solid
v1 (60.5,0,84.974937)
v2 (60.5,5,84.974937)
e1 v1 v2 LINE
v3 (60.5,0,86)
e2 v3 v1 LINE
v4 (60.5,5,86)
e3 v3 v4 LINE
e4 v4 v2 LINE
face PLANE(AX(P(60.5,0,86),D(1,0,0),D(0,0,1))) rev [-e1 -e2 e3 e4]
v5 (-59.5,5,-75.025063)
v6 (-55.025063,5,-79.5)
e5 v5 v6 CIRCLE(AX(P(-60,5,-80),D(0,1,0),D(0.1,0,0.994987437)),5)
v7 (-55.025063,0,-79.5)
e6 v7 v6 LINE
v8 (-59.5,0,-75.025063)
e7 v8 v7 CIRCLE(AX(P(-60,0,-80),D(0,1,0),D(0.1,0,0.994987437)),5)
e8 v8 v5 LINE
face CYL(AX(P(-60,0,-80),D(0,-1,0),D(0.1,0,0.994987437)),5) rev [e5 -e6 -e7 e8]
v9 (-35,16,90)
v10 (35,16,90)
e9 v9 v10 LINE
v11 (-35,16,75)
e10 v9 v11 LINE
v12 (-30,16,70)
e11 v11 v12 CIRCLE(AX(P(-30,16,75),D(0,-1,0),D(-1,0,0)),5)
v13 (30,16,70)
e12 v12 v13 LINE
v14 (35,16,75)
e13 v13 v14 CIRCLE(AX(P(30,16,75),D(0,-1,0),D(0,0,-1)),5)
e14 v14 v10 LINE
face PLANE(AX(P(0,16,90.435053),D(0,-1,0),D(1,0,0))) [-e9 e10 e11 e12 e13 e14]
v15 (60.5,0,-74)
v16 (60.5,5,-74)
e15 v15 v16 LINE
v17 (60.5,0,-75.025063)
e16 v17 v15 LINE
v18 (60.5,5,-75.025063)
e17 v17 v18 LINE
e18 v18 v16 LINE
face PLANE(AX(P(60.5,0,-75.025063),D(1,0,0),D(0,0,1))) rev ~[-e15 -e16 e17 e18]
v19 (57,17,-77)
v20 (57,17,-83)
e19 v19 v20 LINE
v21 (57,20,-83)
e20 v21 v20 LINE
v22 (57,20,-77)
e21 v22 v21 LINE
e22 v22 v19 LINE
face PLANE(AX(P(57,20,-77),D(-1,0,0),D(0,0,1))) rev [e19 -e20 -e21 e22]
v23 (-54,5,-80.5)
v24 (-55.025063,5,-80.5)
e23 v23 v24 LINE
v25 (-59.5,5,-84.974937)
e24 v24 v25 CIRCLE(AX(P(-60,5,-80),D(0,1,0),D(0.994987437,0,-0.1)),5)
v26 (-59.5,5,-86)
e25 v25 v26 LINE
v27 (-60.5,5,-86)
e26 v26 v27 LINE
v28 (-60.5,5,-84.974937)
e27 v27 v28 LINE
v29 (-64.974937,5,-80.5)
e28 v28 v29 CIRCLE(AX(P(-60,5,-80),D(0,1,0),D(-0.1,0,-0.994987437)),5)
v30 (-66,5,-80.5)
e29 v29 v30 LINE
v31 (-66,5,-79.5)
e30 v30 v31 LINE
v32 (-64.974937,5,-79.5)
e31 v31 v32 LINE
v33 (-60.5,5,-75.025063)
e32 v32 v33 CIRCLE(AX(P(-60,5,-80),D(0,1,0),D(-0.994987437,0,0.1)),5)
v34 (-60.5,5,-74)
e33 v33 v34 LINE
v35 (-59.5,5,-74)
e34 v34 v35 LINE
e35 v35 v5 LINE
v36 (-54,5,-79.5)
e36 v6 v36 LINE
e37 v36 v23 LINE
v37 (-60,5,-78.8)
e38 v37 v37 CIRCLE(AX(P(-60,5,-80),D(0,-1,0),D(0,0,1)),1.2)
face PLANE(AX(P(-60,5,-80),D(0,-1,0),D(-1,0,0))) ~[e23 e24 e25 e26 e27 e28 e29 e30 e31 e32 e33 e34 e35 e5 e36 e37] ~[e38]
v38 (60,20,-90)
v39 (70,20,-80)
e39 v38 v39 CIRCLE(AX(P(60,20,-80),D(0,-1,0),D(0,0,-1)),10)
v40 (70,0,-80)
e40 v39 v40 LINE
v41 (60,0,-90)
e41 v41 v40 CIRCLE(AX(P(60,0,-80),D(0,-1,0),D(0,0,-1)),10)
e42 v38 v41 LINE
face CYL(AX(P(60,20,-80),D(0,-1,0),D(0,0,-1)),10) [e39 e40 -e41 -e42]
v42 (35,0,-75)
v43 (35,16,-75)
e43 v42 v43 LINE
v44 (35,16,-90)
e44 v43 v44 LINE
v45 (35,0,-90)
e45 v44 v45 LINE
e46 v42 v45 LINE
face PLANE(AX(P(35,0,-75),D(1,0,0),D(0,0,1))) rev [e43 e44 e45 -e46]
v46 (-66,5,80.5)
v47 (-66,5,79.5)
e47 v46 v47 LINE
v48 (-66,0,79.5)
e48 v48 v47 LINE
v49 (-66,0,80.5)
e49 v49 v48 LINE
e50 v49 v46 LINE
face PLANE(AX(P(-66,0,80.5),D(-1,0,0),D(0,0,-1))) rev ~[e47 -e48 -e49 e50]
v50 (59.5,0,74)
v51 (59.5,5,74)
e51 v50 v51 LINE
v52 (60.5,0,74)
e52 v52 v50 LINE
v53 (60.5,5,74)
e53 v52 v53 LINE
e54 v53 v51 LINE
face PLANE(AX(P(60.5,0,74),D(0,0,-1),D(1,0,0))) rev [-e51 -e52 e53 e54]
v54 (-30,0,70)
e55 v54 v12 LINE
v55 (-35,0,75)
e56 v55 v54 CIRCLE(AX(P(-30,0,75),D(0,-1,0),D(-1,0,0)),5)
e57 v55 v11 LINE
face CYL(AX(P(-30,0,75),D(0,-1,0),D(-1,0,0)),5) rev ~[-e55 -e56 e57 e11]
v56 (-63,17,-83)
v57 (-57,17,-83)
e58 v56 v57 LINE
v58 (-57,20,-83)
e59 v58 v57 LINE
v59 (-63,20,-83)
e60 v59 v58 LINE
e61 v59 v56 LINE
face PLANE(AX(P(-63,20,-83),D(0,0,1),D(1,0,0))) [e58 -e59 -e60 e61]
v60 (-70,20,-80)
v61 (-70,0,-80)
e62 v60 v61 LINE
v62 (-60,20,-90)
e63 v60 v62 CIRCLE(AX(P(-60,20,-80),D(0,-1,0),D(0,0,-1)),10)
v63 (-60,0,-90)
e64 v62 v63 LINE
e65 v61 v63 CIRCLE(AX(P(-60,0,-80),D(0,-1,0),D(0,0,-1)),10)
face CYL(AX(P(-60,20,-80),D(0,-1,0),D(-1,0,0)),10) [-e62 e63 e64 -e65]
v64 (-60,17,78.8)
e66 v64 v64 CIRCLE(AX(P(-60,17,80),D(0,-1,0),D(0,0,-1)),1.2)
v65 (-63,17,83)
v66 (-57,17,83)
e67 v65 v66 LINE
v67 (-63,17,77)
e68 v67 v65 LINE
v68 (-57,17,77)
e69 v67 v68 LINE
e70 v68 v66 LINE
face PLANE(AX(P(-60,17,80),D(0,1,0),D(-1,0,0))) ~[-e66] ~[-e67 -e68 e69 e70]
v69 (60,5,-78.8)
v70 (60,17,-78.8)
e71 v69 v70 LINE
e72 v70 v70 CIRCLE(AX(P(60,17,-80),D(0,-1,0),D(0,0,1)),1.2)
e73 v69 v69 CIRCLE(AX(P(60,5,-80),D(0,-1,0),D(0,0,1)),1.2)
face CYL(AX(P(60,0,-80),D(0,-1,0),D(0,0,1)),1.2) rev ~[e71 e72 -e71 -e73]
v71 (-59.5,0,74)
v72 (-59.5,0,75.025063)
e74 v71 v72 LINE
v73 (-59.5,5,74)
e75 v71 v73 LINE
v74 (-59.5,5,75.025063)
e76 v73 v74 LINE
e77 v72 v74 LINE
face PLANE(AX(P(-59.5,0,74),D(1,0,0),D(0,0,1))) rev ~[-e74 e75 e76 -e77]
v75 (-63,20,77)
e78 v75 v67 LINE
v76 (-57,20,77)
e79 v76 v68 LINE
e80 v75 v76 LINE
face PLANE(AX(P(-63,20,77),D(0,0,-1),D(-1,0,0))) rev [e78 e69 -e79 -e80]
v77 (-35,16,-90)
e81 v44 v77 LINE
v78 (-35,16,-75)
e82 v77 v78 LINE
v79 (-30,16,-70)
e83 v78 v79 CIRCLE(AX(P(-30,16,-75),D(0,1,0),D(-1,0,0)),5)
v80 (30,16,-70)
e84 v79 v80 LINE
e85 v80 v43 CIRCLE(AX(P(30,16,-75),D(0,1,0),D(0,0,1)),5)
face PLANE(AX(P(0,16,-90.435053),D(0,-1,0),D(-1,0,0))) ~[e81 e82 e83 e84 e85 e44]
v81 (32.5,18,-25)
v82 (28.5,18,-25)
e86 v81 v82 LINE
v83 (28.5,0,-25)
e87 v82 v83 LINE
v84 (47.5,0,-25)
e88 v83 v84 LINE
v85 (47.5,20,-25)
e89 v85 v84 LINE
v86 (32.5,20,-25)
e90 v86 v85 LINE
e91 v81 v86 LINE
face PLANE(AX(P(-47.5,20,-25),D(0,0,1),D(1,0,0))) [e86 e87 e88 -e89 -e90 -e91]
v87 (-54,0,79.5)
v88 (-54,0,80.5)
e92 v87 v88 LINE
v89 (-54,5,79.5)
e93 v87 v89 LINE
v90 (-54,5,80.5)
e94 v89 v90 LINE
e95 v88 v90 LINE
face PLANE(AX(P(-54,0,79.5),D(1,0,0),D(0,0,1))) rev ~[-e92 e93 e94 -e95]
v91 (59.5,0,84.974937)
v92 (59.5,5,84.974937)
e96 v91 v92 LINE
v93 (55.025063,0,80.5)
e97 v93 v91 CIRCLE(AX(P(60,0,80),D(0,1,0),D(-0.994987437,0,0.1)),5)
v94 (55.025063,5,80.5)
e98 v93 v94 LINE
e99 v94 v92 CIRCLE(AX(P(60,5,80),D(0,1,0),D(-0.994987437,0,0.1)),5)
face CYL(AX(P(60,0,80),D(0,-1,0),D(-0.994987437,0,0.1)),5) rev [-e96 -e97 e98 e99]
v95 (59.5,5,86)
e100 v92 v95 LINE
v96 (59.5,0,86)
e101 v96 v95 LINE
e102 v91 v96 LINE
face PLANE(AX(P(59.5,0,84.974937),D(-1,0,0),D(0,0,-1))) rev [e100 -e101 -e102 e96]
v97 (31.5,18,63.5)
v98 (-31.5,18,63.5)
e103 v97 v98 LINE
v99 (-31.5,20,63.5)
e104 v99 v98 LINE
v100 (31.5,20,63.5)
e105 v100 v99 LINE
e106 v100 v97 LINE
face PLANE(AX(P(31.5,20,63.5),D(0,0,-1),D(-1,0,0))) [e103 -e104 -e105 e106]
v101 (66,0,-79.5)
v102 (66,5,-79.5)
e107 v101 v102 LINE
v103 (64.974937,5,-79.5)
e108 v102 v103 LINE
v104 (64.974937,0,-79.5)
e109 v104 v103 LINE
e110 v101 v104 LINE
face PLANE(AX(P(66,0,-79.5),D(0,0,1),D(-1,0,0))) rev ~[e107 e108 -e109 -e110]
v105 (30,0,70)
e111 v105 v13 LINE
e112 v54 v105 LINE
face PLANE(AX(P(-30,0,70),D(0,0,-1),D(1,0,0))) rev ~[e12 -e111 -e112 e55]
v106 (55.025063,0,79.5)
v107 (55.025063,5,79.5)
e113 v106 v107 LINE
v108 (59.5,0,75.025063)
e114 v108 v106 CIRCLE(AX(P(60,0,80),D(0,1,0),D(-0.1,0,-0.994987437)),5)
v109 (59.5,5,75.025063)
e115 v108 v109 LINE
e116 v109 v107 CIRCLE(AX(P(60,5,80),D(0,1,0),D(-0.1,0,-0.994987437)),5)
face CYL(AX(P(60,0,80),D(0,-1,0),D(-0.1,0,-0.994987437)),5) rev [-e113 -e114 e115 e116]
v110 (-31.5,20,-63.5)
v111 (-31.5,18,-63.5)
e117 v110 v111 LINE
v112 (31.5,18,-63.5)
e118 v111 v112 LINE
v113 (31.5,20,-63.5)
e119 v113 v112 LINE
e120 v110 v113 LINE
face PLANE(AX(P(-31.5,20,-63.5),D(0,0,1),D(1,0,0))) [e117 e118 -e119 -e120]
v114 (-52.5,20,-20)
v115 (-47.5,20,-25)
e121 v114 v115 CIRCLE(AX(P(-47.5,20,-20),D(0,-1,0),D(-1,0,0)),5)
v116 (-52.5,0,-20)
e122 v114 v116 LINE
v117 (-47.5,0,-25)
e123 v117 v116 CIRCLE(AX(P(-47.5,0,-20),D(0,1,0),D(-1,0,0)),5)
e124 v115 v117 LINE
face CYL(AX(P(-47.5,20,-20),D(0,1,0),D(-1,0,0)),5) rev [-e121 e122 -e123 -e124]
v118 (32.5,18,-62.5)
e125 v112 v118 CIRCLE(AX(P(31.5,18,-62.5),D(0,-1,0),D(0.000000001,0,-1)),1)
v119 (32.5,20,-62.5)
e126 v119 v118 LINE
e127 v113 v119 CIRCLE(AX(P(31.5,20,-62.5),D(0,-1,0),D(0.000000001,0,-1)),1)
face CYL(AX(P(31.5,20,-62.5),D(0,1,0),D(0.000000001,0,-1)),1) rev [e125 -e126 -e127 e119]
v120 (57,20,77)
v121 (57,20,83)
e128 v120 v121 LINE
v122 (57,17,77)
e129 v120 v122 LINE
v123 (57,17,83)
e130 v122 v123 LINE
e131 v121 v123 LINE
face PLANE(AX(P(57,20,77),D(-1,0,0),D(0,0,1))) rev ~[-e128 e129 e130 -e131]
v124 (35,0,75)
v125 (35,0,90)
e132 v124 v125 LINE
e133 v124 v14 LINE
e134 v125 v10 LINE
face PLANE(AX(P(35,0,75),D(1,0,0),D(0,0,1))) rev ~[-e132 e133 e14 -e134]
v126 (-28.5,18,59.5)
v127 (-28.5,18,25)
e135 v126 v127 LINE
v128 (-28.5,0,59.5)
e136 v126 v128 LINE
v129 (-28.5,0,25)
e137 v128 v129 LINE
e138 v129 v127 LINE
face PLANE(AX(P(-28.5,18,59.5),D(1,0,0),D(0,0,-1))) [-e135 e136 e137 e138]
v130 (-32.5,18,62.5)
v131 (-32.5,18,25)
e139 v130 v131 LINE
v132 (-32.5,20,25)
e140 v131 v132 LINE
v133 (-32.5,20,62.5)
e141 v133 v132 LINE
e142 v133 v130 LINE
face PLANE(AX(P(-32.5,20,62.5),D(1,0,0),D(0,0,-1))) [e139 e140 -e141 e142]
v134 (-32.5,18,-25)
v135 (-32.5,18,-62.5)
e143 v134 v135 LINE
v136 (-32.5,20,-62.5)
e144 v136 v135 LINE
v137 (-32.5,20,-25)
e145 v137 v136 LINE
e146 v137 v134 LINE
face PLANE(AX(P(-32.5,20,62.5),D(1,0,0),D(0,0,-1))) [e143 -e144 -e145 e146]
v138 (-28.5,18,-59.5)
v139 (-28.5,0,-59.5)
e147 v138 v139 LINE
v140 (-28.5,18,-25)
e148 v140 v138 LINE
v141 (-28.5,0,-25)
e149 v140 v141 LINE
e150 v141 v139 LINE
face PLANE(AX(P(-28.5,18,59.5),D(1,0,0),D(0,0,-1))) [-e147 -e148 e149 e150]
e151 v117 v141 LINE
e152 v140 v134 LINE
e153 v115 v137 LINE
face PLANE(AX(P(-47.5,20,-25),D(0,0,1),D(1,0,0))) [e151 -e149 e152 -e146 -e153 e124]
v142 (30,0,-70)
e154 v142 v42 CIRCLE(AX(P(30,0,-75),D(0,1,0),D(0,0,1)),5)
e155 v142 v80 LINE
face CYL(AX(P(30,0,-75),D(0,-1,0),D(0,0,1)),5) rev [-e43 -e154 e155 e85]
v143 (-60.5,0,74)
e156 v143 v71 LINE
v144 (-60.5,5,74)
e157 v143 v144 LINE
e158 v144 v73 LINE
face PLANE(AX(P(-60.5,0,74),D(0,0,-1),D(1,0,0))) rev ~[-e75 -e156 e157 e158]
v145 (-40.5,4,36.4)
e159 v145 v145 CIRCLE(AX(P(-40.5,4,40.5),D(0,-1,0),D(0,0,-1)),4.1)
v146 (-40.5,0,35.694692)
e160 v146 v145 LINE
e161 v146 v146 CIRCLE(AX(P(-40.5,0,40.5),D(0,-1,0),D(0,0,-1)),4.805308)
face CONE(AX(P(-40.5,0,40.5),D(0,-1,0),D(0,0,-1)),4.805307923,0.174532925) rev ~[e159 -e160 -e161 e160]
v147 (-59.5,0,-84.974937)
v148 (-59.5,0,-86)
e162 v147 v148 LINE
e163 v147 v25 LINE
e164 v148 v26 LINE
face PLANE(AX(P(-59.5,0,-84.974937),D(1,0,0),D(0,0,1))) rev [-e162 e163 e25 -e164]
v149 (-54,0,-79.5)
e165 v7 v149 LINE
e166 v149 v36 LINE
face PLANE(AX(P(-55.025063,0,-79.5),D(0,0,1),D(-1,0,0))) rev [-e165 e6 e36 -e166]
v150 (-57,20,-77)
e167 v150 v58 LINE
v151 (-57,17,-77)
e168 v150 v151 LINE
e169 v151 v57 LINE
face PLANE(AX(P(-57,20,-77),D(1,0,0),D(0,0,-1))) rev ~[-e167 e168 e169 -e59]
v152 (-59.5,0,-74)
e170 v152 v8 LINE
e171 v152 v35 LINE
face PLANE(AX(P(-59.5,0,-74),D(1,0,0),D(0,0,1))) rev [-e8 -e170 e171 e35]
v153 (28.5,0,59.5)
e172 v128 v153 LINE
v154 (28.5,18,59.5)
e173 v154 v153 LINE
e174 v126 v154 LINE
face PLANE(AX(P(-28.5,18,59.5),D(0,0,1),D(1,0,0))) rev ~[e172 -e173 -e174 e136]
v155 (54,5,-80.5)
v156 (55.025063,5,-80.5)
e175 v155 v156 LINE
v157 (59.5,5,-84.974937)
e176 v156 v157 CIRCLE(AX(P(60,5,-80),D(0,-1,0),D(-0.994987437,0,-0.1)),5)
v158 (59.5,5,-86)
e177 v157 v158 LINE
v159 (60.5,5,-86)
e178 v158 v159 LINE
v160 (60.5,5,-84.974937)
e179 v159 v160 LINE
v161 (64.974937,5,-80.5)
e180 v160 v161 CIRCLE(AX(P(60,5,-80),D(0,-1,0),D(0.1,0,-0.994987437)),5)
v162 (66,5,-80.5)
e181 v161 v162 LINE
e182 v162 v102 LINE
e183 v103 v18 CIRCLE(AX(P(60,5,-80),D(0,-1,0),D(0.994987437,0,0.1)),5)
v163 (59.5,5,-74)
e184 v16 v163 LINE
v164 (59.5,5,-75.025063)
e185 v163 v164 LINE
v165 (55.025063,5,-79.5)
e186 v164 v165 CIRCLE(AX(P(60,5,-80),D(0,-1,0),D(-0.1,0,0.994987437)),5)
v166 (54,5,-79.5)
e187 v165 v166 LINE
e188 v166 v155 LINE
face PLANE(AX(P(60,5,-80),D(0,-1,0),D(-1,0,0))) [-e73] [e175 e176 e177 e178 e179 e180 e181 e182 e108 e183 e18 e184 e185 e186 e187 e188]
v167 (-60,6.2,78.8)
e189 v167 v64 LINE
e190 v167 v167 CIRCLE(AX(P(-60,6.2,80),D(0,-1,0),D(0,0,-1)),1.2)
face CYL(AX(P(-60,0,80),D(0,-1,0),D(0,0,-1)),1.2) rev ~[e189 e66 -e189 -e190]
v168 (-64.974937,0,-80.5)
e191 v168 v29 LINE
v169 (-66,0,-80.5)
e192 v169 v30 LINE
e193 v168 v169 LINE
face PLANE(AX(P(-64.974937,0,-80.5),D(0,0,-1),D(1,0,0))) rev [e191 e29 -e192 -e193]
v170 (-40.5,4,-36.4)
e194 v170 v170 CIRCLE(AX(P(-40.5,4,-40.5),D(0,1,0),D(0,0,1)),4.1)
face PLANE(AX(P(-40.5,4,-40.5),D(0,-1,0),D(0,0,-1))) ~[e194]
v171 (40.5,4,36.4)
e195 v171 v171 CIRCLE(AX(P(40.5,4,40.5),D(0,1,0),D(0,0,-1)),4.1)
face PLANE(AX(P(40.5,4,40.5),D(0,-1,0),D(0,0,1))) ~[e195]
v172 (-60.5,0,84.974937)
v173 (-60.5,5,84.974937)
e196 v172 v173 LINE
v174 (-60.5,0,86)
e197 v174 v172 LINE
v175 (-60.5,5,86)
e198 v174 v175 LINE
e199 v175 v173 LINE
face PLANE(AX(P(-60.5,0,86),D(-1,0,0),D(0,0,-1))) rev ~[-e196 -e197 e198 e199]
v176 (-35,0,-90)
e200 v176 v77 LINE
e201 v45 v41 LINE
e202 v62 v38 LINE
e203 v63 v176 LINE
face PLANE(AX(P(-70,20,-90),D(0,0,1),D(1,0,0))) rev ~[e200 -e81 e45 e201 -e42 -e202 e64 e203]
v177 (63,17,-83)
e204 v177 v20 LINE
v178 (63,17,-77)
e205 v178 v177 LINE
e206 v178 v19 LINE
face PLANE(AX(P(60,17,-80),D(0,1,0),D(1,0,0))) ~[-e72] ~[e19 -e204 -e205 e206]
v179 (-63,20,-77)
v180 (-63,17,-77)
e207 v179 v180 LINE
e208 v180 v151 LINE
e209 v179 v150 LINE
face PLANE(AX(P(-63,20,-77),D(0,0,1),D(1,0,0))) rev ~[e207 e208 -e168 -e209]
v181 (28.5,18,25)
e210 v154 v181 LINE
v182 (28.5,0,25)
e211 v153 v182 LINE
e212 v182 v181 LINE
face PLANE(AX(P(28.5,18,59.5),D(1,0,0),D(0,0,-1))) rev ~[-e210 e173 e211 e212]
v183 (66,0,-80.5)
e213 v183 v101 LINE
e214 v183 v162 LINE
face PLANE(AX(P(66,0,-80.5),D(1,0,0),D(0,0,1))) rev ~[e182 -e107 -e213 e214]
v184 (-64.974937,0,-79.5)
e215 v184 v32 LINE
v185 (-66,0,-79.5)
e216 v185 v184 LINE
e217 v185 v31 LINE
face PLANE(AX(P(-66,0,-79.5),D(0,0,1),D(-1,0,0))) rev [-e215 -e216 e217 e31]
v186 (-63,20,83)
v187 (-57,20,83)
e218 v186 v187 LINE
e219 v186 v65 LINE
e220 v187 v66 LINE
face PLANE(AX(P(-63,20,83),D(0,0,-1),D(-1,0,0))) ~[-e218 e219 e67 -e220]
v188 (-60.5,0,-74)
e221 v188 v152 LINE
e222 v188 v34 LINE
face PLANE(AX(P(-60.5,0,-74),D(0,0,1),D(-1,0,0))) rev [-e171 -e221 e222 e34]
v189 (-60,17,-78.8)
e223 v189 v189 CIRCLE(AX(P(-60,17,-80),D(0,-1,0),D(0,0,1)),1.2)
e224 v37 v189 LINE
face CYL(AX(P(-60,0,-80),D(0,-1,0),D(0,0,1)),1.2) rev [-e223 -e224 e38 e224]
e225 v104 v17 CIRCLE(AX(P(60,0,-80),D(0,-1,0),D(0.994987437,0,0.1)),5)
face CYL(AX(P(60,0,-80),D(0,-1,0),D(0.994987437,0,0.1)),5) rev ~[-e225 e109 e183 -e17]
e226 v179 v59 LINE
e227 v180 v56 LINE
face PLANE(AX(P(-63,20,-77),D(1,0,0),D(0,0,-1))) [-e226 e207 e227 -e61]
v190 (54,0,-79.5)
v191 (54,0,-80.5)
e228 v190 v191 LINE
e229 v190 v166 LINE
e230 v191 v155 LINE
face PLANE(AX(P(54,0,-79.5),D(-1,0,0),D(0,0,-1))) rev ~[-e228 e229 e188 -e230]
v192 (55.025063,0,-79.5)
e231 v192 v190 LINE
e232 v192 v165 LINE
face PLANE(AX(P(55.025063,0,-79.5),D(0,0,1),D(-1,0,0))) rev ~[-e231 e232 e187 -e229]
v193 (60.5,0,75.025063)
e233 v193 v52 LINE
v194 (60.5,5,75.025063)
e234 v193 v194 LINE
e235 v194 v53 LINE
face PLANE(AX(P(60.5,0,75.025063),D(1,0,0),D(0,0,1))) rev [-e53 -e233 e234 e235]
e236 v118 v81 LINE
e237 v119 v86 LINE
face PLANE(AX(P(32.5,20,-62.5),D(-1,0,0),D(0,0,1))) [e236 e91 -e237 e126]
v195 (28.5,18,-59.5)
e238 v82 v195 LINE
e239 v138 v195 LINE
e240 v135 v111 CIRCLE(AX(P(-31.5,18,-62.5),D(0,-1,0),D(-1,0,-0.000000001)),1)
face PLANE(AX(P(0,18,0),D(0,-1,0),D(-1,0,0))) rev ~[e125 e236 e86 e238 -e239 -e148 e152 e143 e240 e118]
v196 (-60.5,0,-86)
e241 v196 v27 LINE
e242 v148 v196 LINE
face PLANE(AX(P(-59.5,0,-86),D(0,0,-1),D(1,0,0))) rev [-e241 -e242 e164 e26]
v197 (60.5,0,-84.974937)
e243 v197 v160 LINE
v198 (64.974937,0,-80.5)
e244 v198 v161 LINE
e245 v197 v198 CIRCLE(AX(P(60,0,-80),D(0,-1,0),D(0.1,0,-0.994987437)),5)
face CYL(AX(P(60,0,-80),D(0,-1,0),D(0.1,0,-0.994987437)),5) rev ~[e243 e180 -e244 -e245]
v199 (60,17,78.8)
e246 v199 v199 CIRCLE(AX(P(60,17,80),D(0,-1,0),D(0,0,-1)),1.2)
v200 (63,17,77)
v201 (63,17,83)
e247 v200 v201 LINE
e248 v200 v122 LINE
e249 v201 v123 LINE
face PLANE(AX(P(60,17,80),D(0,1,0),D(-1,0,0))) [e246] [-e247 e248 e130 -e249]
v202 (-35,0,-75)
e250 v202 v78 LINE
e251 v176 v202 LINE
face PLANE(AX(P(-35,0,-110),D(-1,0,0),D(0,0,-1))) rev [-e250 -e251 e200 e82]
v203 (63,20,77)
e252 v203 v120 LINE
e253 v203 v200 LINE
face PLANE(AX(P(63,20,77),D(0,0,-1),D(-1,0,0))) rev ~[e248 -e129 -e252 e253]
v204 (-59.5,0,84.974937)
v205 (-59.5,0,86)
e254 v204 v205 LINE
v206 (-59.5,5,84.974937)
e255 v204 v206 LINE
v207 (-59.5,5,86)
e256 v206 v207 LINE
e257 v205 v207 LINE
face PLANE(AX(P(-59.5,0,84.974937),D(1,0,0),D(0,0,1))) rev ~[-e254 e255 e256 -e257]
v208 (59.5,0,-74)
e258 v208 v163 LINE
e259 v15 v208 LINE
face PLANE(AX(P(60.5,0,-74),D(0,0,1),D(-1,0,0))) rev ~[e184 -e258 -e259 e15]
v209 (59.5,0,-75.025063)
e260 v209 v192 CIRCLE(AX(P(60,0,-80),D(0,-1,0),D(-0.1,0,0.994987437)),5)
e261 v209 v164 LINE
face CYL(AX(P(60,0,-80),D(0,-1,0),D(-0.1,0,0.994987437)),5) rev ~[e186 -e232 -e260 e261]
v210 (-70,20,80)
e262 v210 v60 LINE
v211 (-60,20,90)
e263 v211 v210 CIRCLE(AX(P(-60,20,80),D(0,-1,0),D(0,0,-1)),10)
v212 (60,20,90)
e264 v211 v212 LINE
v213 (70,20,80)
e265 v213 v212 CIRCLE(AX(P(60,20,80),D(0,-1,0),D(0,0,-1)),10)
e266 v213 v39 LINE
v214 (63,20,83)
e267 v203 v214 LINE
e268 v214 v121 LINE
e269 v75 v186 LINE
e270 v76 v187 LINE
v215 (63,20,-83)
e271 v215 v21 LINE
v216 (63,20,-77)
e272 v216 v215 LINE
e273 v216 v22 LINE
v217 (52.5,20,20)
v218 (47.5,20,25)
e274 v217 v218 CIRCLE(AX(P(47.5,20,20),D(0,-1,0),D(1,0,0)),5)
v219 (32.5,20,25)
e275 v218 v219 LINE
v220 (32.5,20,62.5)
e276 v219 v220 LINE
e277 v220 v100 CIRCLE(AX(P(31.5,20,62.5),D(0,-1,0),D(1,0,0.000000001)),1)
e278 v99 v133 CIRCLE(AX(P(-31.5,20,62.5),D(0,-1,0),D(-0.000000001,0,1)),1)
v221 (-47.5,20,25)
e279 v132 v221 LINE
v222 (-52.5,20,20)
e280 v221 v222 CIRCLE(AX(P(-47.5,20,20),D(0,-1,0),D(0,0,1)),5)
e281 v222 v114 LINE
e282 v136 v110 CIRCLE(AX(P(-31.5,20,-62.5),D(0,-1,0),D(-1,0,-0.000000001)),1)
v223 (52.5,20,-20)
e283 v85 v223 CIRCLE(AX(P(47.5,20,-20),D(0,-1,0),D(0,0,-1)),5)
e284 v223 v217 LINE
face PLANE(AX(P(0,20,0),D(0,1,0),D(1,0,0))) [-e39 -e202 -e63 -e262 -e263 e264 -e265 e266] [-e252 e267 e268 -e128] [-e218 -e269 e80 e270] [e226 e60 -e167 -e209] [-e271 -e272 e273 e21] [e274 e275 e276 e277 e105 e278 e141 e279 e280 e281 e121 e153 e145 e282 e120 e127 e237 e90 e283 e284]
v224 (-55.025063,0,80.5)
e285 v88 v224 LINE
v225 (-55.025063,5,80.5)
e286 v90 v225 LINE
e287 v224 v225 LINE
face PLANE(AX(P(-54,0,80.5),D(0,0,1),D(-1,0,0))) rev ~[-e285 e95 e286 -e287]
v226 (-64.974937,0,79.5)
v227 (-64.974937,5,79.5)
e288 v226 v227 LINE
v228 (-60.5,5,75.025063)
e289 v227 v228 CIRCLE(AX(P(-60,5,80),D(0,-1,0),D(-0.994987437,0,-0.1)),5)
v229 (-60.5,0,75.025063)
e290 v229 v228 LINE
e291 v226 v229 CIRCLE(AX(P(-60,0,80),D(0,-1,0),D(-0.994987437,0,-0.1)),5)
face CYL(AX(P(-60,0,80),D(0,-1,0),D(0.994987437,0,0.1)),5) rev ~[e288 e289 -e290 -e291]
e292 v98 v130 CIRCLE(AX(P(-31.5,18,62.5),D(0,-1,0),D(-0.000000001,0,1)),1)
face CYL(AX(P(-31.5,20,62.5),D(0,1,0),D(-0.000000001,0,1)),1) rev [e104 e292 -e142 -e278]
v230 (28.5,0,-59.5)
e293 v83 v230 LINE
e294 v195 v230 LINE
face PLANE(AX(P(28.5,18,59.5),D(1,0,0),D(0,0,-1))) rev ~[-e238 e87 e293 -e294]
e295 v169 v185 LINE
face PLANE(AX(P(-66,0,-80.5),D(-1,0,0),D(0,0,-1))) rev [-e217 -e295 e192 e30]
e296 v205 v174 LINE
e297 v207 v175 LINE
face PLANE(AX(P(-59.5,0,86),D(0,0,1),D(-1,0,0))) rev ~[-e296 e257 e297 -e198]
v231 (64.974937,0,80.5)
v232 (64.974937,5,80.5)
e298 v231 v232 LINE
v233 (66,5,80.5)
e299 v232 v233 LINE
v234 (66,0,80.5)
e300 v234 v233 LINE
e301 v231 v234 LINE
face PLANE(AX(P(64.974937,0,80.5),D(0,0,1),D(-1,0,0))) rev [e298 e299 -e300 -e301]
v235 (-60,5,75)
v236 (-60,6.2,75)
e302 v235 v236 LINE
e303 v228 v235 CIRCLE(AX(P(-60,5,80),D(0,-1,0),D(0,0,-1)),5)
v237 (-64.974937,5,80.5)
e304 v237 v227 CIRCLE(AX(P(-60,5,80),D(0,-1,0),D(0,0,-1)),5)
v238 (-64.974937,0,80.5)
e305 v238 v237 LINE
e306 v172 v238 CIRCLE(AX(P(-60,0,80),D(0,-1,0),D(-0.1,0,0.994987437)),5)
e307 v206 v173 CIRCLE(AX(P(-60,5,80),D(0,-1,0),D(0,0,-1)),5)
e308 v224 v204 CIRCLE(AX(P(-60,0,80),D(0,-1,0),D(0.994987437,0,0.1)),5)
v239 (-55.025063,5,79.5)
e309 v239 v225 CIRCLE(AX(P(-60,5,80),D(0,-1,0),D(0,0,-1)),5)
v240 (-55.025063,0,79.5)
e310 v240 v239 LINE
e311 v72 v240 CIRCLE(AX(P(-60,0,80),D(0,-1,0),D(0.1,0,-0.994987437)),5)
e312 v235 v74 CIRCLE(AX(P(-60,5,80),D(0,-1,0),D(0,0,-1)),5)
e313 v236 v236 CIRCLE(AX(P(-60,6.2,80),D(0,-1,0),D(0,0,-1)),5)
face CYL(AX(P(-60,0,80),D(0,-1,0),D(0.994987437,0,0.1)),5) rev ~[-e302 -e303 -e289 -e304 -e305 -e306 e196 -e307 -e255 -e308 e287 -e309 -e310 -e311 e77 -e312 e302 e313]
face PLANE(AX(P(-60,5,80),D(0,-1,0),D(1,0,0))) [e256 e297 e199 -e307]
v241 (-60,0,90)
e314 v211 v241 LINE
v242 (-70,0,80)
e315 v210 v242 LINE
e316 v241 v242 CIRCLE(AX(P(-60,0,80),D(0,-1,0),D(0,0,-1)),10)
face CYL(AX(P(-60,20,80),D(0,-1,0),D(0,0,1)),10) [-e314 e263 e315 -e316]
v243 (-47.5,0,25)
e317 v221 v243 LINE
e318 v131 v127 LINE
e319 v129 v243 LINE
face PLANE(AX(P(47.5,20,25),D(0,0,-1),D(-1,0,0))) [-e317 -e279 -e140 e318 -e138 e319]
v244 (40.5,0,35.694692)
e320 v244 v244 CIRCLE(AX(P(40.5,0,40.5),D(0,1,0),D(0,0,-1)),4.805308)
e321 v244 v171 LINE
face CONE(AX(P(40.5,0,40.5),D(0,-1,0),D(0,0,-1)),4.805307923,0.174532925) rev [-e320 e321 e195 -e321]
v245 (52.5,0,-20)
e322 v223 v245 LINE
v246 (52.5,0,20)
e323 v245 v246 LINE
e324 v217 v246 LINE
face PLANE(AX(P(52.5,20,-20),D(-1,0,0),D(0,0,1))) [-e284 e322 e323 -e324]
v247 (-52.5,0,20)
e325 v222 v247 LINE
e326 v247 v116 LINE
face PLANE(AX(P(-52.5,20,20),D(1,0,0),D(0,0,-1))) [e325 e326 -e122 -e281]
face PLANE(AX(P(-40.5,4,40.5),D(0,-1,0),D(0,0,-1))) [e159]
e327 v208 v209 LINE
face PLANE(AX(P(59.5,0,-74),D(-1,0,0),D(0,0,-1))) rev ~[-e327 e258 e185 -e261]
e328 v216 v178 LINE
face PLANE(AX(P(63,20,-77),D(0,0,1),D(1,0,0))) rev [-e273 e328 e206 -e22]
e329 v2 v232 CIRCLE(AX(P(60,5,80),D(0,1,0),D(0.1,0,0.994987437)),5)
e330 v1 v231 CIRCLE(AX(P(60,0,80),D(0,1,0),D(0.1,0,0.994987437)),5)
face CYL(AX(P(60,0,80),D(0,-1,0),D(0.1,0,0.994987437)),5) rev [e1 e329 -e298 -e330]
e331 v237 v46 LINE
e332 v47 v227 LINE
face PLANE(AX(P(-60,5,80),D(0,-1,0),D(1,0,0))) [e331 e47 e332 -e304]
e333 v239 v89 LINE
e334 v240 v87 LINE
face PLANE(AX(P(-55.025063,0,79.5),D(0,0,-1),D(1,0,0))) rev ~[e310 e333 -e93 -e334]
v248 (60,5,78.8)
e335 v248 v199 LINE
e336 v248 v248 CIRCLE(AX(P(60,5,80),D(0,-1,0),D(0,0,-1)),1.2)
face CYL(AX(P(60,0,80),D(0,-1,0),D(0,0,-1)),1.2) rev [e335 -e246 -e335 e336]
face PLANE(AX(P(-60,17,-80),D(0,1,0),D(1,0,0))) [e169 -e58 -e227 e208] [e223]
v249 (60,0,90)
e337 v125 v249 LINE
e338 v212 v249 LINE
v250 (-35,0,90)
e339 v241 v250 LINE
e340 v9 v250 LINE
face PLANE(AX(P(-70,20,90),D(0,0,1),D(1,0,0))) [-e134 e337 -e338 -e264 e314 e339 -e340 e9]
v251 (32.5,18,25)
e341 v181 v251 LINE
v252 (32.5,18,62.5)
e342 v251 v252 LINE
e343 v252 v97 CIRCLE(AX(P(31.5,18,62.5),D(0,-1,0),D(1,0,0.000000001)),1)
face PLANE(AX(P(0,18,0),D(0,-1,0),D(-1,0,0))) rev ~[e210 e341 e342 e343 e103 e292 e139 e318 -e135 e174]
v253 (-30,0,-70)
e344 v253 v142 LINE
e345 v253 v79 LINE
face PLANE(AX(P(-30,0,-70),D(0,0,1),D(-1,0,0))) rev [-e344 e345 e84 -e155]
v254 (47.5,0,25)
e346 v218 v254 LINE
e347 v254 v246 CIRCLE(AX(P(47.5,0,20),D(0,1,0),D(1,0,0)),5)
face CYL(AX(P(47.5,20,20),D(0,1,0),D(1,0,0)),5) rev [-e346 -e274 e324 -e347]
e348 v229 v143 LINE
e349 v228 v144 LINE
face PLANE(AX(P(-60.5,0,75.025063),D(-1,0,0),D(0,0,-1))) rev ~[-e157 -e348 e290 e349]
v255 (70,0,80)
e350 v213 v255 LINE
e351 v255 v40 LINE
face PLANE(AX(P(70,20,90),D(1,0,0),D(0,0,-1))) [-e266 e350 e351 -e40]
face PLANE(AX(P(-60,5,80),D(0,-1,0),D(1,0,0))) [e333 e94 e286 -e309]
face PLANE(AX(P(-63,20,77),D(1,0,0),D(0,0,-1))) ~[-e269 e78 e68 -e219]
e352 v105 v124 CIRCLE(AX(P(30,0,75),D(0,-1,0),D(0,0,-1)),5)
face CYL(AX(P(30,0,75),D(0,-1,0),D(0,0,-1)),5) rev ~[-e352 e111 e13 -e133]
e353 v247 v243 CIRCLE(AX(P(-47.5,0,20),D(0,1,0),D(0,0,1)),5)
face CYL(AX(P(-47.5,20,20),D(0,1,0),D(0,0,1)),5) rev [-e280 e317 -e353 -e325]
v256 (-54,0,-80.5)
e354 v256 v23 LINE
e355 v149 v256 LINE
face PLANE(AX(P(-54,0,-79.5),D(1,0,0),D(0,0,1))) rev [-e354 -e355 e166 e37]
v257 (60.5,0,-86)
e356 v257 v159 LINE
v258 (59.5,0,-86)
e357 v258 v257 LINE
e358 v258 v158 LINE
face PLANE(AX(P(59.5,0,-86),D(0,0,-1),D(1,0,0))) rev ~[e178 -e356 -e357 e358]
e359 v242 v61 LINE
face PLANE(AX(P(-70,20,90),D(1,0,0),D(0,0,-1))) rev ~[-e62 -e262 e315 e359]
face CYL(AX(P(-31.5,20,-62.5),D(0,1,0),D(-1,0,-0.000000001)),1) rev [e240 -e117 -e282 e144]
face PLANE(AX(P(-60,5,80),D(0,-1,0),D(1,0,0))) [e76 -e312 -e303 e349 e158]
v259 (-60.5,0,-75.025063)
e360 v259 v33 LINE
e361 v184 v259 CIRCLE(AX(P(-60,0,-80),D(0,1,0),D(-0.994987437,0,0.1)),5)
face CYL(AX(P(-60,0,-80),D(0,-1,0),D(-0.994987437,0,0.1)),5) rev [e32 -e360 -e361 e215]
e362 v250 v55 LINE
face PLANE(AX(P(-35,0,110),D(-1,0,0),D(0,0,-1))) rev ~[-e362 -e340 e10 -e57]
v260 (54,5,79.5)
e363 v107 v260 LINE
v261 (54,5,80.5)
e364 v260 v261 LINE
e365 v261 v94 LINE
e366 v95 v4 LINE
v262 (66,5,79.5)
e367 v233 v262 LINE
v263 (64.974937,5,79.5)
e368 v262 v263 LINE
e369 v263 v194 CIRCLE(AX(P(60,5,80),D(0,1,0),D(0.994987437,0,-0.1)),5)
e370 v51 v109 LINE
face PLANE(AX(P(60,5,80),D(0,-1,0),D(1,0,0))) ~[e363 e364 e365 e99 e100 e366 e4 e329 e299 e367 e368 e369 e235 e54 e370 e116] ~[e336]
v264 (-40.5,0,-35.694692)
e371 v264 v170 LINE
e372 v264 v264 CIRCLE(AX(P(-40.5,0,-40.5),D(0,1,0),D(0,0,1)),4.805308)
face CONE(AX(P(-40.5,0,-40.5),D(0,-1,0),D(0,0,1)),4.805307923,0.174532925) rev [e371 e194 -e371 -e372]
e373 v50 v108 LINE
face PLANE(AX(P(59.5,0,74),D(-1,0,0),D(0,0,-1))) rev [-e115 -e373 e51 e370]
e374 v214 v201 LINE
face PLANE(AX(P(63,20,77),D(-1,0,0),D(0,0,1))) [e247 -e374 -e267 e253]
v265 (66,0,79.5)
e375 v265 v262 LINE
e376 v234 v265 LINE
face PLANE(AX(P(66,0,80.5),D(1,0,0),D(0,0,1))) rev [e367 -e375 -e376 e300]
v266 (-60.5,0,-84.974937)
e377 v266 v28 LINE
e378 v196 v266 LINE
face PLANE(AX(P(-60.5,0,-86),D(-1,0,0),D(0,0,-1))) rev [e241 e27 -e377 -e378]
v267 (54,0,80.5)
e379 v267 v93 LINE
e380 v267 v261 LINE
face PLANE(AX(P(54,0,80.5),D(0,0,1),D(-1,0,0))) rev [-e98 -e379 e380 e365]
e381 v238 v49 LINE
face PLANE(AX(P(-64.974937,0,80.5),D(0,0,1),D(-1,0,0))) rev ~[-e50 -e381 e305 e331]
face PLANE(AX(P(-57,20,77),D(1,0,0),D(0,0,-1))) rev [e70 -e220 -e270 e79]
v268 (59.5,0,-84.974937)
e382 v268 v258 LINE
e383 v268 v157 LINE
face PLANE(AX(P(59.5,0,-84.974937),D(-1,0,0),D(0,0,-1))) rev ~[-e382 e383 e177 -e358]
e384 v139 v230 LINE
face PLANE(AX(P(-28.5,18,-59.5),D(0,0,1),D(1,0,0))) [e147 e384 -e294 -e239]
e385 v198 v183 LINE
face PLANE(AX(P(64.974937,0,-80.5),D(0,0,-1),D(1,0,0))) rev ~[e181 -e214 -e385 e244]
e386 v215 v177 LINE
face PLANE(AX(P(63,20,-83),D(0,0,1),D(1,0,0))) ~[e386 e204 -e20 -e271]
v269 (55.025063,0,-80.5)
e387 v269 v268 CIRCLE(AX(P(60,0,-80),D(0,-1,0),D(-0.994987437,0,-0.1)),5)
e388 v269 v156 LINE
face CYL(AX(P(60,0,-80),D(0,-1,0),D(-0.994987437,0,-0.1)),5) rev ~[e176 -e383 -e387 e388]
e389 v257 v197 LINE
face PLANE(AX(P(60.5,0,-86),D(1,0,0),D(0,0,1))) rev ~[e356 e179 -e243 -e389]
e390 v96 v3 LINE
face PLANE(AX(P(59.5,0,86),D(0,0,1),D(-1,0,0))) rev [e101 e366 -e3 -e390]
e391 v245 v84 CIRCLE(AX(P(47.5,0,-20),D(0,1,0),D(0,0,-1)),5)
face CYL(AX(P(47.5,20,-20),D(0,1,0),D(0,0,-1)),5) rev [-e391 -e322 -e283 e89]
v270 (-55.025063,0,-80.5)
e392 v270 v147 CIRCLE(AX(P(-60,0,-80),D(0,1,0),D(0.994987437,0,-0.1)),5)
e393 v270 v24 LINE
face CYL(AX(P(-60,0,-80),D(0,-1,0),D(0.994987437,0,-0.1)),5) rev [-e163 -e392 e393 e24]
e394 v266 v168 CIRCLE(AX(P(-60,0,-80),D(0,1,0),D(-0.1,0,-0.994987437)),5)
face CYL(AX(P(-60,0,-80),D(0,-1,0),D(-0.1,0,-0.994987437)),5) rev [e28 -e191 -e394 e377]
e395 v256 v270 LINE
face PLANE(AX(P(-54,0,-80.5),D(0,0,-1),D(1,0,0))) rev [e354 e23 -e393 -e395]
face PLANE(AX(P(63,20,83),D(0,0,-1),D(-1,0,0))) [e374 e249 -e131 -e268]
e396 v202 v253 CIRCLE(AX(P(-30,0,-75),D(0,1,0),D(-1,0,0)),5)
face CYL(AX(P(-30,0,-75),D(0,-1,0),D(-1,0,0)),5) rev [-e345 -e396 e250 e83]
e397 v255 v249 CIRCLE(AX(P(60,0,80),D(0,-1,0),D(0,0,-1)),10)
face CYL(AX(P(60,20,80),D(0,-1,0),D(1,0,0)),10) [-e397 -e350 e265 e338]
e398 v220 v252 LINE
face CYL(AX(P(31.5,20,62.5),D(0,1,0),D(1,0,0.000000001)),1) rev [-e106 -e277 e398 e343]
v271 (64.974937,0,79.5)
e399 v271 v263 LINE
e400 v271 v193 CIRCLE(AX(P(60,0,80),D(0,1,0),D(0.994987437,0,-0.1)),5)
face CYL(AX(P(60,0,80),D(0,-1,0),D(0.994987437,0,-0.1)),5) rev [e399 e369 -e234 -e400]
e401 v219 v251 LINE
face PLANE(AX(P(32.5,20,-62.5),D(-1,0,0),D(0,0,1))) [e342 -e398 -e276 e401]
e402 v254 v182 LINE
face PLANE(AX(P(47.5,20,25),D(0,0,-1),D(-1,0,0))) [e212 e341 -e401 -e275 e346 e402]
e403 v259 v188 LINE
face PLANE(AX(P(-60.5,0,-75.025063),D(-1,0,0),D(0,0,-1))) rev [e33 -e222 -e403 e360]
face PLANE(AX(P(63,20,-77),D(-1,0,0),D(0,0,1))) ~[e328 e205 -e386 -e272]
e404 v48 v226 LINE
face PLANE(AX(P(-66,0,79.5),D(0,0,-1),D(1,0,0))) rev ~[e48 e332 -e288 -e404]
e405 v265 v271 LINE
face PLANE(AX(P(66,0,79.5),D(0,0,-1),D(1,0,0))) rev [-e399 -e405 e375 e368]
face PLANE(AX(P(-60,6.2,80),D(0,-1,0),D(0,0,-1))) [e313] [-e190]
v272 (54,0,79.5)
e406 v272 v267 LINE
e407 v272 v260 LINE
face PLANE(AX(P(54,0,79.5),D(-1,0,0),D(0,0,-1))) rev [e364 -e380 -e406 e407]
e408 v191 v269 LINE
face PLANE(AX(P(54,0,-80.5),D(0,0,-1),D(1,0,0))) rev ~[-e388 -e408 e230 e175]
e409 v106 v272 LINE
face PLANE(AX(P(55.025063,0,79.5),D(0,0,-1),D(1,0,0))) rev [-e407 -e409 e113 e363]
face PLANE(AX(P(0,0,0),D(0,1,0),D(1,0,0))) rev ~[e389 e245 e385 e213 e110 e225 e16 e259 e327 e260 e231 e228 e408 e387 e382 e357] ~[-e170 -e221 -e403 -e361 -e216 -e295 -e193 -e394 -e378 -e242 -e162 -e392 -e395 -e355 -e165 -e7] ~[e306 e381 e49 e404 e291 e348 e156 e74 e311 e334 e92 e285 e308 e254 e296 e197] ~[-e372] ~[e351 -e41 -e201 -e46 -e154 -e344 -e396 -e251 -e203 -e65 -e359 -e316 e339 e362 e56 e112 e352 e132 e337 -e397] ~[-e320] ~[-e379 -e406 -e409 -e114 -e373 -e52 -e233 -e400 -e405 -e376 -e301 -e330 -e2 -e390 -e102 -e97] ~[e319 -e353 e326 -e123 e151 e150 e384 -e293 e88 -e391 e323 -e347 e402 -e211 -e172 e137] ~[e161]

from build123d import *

# Parameters (mm, degrees)
SKETCH_1_W                                 = 200
SKETCH_1_H                                 = 200
EXTRUDE_1_DEPTH                            = 20
SKETCH_2_W                                 = 200
SKETCH_2_H                                 = 200
SKETCH_2_W_2                               = 140
SKETCH_2_H_2                               = 180
CUT_EXTRUDE_2_DEPTH                        = 143.828568571
FILLET_1_R                                 = 10
FILLET_2_R                                 = 10
FILLET_3_R                                 = 10
FILLET_4_R                                 = 10
CUT_EXTRUDE_4_DEPTH                        = 5
MIRROR_3_AT_THE_SECOND_PLANE_COPY_1_DEPTH  = 5
SKETCH_5_R                                 = 5
CUT_EXTRUDE_5_DEPTH                        = 6.2
CUT_EXTRUDE_7_DEPTH                        = 16
SKETCH_8_R                                 = 4.1
CUT_EXTRUDE_8_DEPTH                        = 4
DRAFT_2_ANGLE                              = 10
DRAFT_2_OF_MIRROR_10_2_ANGLE               = 10
DRAFT_2_OF_MIRROR_11_2_ANGLE               = 10
SKETCH_14_W                                = 6
SKETCH_14_H                                = 6
CUT_EXTRUDE_9_DEPTH                        = 3
MIRROR_12_AT_THE_SECOND_PLANE_COPY_1_SKE_W = 6
MIRROR_12_AT_THE_SECOND_PLANE_COPY_1_SKE_H = 6
MIRROR_12_AT_THE_SECOND_PLANE_COPY_1_DEPTH = 3
CUT_EXTRUDE_14_DEPTH                       = 2
SKETCH_22_W                                = 57
SKETCH_22_H                                = 119
CUT_EXTRUDE_15_DEPTH                       = 116.429632244
CUT_EXTRUDE_16_DEPTH                       = 116.758369028
SKETCH_24_R                                = 1.2
CUT_EXTRUDE_17_DEPTH                       = 116.758369028
MIRROR_13_AT_THE_SECOND_PLANE_COPY_1_SKE_R = 1.2
MIRROR_13_AT_THE_SECOND_PLANE_COPY_1_DEPTH = 116.758369028


with BuildPart() as part:
    # 草图1 → 凸台-拉伸1 (new body)
    with BuildSketch(Plane(origin=(0, 0, 0), x_dir=(1, 0, 0), z_dir=(0, 1, 0))):
        Rectangle(SKETCH_1_W, SKETCH_1_H)
    extrude(amount=EXTRUDE_1_DEPTH)

    # 草图2 → 切除-拉伸2 (cut, through all)
    with BuildSketch(Plane(origin=(0, 20, 0), x_dir=(1, 0, 0), z_dir=(0, 1, 0))):
        Rectangle(SKETCH_2_W, SKETCH_2_H)
        Rectangle(SKETCH_2_W_2, SKETCH_2_H_2, mode=Mode.SUBTRACT)
    extrude(amount=-CUT_EXTRUDE_2_DEPTH, mode=Mode.SUBTRACT)

    # 圆角1
    fillet_1_edges = [part.edges().sort_by_distance(p)[0] for p in [
        (-70, 10, -90),
    ]]
    fillet(fillet_1_edges, radius=FILLET_1_R)

    # 圆角2
    fillet_2_edges = [part.edges().sort_by_distance(p)[0] for p in [
        (70, 10, -90),
    ]]
    fillet(fillet_2_edges, radius=FILLET_2_R)

    # 圆角3
    fillet_3_edges = [part.edges().sort_by_distance(p)[0] for p in [
        (70, 10, 90),
    ]]
    fillet(fillet_3_edges, radius=FILLET_3_R)

    # 圆角4
    fillet_4_edges = [part.edges().sort_by_distance(p)[0] for p in [
        (-70, 10, 90),
    ]]
    fillet(fillet_4_edges, radius=FILLET_4_R)

    # 草图4 → 切除-拉伸4 (cut)
    with BuildSketch(Plane.XZ):
        with BuildLine():
            Line((-59.5, 84.974937186), (-59.5, 86))
            Line((-59.5, 86), (-60.5, 86))
            Line((-60.5, 86), (-60.5, 84.974937186))
            ThreePointArc((-60.5, 84.974937186), (-63.535533906, 83.535533906), (-64.974937186, 80.5))
            Line((-64.974937186, 80.5), (-66, 80.5))
            Line((-66, 80.5), (-66, 79.5))
            Line((-66, 79.5), (-64.974937186, 79.5))
            ThreePointArc((-64.974937186, 79.5), (-63.535533906, 76.464466094), (-60.5, 75.025062814))
            Line((-60.5, 75.025062814), (-60.5, 74))
            Line((-60.5, 74), (-59.5, 74))
            Line((-59.5, 74), (-59.5, 75.025062814))
            ThreePointArc((-59.5, 75.025062814), (-56.464466094, 76.464466094), (-55.025062814, 79.5))
            Line((-55.025062814, 79.5), (-54, 79.5))
            Line((-54, 79.5), (-54, 80.5))
            Line((-54, 80.5), (-55.025062814, 80.5))
            ThreePointArc((-55.025062814, 80.5), (-56.464466094, 83.535533906), (-59.5, 84.974937186))
        make_face()
    cut_extrude_4 = extrude(amount=-CUT_EXTRUDE_4_DEPTH, mode=Mode.SUBTRACT)

    # 镜向3: 切除-拉伸4 across plane
    add(cut_extrude_4.mirror(Plane(origin=(0, 0, 0), x_dir=(0, 0, 1), z_dir=(1, 0, 0))), mode=Mode.SUBTRACT)

    # 镜向3 at the second plane: 切除-拉伸4 across plane
    add(cut_extrude_4.mirror(Plane.XY), mode=Mode.SUBTRACT)

    # 镜向3 at the second plane copy 1 sket → 镜向3 at the second plane copy 1 (cut)
    with BuildSketch(Plane(origin=(0, 0, 0), x_dir=(-1, 0, 0), z_dir=(0, -1, 0))):
        with BuildLine():
            Line((-59.5, 84.974937186), (-59.5, 86))
            Line((-59.5, 86), (-60.5, 86))
            Line((-60.5, 86), (-60.5, 84.974937186))
            ThreePointArc((-60.5, 84.974937186), (-63.535533906, 83.535533906), (-64.974937186, 80.5))
            Line((-64.974937186, 80.5), (-66, 80.5))
            Line((-66, 80.5), (-66, 79.5))
            Line((-66, 79.5), (-64.974937186, 79.5))
            ThreePointArc((-64.974937186, 79.5), (-63.535533906, 76.464466094), (-60.5, 75.025062814))
            Line((-60.5, 75.025062814), (-60.5, 74))
            Line((-60.5, 74), (-59.5, 74))
            Line((-59.5, 74), (-59.5, 75.025062814))
            ThreePointArc((-59.5, 75.025062814), (-56.464466094, 76.464466094), (-55.025062814, 79.5))
            Line((-55.025062814, 79.5), (-54, 79.5))
            Line((-54, 79.5), (-54, 80.5))
            Line((-54, 80.5), (-55.025062814, 80.5))
            ThreePointArc((-55.025062814, 80.5), (-56.464466094, 83.535533906), (-59.5, 84.974937186))
        make_face()
    extrude(amount=-MIRROR_3_AT_THE_SECOND_PLANE_COPY_1_DEPTH, mode=Mode.SUBTRACT)

    # 草图5 → 切除-拉伸5 (cut)
    with BuildSketch(Plane.XZ):
        with Locations(Location((-60, 80, 0), (0, 0, 270))):
            Circle(SKETCH_5_R)
    extrude(amount=-CUT_EXTRUDE_5_DEPTH, mode=Mode.SUBTRACT)

    # 草图7 → 切除-拉伸7 (cut)
    with BuildSketch(Plane.XZ):
        with BuildLine():
            Line((35, 110), (-35, 110))
            Line((-35, 110), (-35, 75))
            ThreePointArc((-35, 75), (-33.535533906, 71.464466094), (-30, 70))
            Line((-30, 70), (30, 70))
            ThreePointArc((30, 70), (33.535533906, 71.464466094), (35, 75))
            Line((35, 75), (35, 110))
        make_face()
    cut_extrude_7 = extrude(amount=-CUT_EXTRUDE_7_DEPTH, mode=Mode.SUBTRACT)

    # 镜向6: 切除-拉伸7 across plane
    add(cut_extrude_7.mirror(Plane.XY), mode=Mode.SUBTRACT)

    # 草图8 → 切除-拉伸8 (cut)
    with BuildSketch(Plane.XZ):
        with Locations(Location((-40.5, 40.5, 0), (0, 0, 270))):
            Circle(SKETCH_8_R)
    cut_extrude_8 = extrude(amount=-CUT_EXTRUDE_8_DEPTH, mode=Mode.SUBTRACT)

    # 拔模2
    draft_2_faces = [part.faces().sort_by_distance(p)[0] for p in [
        (-40.5, 2, 44.6),
    ]]
    draft(draft_2_faces, Plane(origin=(-40.5, 4, 40.5), x_dir=(0, 0, -1), z_dir=(0, -1, 0)), DRAFT_2_ANGLE)

    # 镜向10: 切除-拉伸8 across plane
    add(cut_extrude_8.mirror(Plane(origin=(0, 0, 0), x_dir=(0, 0, 1), z_dir=(1, 0, 0))), mode=Mode.SUBTRACT)

    # 拔模2 of Mirror 10 2
    draft_2_of_mirror_10_2_faces = [part.faces().sort_by_distance(p)[0] for p in [
        (40.5, 2, 44.6),
    ]]
    draft(draft_2_of_mirror_10_2_faces, Plane(origin=(40.5, 4, 40.5), x_dir=(0, 0, -1), z_dir=(0, -1, 0)), DRAFT_2_OF_MIRROR_10_2_ANGLE)

    # 镜向11: 切除-拉伸8 across plane
    add(cut_extrude_8.mirror(Plane.XY), mode=Mode.SUBTRACT)

    # 拔模2 of Mirror 11 2
    draft_2_of_mirror_11_2_faces = [part.faces().sort_by_distance(p)[0] for p in [
        (-40.5, 2, -44.6),
    ]]
    draft(draft_2_of_mirror_11_2_faces, Plane(origin=(-40.5, 4, -40.5), x_dir=(0, 0, 1), z_dir=(0, -1, 0)), DRAFT_2_OF_MIRROR_11_2_ANGLE)

    # 草图14 → 切除-拉伸9 (cut)
    with BuildSketch(Plane(origin=(0, 20, 0), x_dir=(1, 0, 0), z_dir=(0, 1, 0))):
        with Locations((-60, 80)):
            Rectangle(SKETCH_14_W, SKETCH_14_H)
    cut_extrude_9 = extrude(amount=-CUT_EXTRUDE_9_DEPTH, mode=Mode.SUBTRACT)

    # 镜向12: 切除-拉伸9 across plane
    add(cut_extrude_9.mirror(Plane(origin=(0, 0, 0), x_dir=(0, 0, 1), z_dir=(1, 0, 0))), mode=Mode.SUBTRACT)

    # 镜向12 at the second plane: 切除-拉伸9 across plane
    add(cut_extrude_9.mirror(Plane.XY), mode=Mode.SUBTRACT)

    # 镜向12 at the second plane copy 1 ske → 镜向12 at the second plane copy 1 (cut)
    with BuildSketch(Plane(origin=(0, 20, 0), x_dir=(-1, 0, 0), z_dir=(0, 1, 0))):
        with Locations((-60, 80)):
            Rectangle(MIRROR_12_AT_THE_SECOND_PLANE_COPY_1_SKE_W, MIRROR_12_AT_THE_SECOND_PLANE_COPY_1_SKE_H)
    extrude(amount=-MIRROR_12_AT_THE_SECOND_PLANE_COPY_1_DEPTH, mode=Mode.SUBTRACT)

    # 草图21 → 切除-拉伸14 (cut)
    with BuildSketch(Plane(origin=(0, 20, 0), x_dir=(1, 0, 0), z_dir=(0, 1, 0))):
        with BuildLine():
            Line((31.5, -63.5), (-31.5, -63.5))
            ThreePointArc((-31.5, -63.5), (-32.207106781, -63.207106781), (-32.5, -62.5))
            Line((-32.5, -62.5), (-32.5, 62.5))
            ThreePointArc((-32.5, 62.5), (-32.207106781, 63.207106781), (-31.5, 63.5))
            Line((-31.5, 63.5), (31.5, 63.5))
            ThreePointArc((31.5, 63.5), (32.207106781, 63.207106781), (32.5, 62.5))
            Line((32.5, 62.5), (32.5, -62.5))
            ThreePointArc((32.5, -62.5), (32.207106781, -63.207106781), (31.5, -63.5))
        make_face()
    extrude(amount=-CUT_EXTRUDE_14_DEPTH, mode=Mode.SUBTRACT)

    # 草图22 → 切除-拉伸15 (cut, through all)
    with BuildSketch(Plane(origin=(0, 18, 0), x_dir=(1, 0, 0), z_dir=(0, 1, 0))):
        Rectangle(SKETCH_22_W, SKETCH_22_H)
    extrude(amount=-CUT_EXTRUDE_15_DEPTH, mode=Mode.SUBTRACT)

    # 草图23 → 切除-拉伸16 (cut, through all)
    with BuildSketch(Plane(origin=(0, 20, 0), x_dir=(1, 0, 0), z_dir=(0, 1, 0))):
        with BuildLine():
            Line((47.5, -25), (-47.5, -25))
            ThreePointArc((-47.5, -25), (-51.035533906, -23.535533906), (-52.5, -20))
            Line((-52.5, -20), (-52.5, 20))
            ThreePointArc((-52.5, 20), (-51.035533906, 23.535533906), (-47.5, 25))
            Line((-47.5, 25), (47.5, 25))
            ThreePointArc((47.5, 25), (51.035533906, 23.535533906), (52.5, 20))
            Line((52.5, 20), (52.5, -20))
            ThreePointArc((52.5, -20), (51.035533906, -23.535533906), (47.5, -25))
        make_face()
    extrude(amount=-CUT_EXTRUDE_16_DEPTH, mode=Mode.SUBTRACT)

    # 草图24 → 切除-拉伸17 (cut, through all)
    with BuildSketch(Plane.XZ):
        with Locations(Location((-60, 80, 0), (0, 0, 270))):
            Circle(SKETCH_24_R)
    cut_extrude_17 = extrude(amount=-CUT_EXTRUDE_17_DEPTH, mode=Mode.SUBTRACT)

    # 镜向13: 切除-拉伸17 across plane
    add(cut_extrude_17.mirror(Plane.XY), mode=Mode.SUBTRACT)

    # 镜向13 at the second plane: 切除-拉伸17 across plane
    add(cut_extrude_17.mirror(Plane(origin=(0, 0, 0), x_dir=(0, 0, 1), z_dir=(1, 0, 0))), mode=Mode.SUBTRACT)

    # 镜向13 at the second plane copy 1 ske → 镜向13 at the second plane copy 1 (cut, through all)
    with BuildSketch(Plane(origin=(0, 0, 0), x_dir=(-1, 0, 0), z_dir=(0, -1, 0))):
        with Locations(Location((-60, 80, 0), (0, 0, 270))):
            Circle(MIRROR_13_AT_THE_SECOND_PLANE_COPY_1_SKE_R)
    extrude(amount=-MIRROR_13_AT_THE_SECOND_PLANE_COPY_1_DEPTH, mode=Mode.SUBTRACT)


solid = part.part
